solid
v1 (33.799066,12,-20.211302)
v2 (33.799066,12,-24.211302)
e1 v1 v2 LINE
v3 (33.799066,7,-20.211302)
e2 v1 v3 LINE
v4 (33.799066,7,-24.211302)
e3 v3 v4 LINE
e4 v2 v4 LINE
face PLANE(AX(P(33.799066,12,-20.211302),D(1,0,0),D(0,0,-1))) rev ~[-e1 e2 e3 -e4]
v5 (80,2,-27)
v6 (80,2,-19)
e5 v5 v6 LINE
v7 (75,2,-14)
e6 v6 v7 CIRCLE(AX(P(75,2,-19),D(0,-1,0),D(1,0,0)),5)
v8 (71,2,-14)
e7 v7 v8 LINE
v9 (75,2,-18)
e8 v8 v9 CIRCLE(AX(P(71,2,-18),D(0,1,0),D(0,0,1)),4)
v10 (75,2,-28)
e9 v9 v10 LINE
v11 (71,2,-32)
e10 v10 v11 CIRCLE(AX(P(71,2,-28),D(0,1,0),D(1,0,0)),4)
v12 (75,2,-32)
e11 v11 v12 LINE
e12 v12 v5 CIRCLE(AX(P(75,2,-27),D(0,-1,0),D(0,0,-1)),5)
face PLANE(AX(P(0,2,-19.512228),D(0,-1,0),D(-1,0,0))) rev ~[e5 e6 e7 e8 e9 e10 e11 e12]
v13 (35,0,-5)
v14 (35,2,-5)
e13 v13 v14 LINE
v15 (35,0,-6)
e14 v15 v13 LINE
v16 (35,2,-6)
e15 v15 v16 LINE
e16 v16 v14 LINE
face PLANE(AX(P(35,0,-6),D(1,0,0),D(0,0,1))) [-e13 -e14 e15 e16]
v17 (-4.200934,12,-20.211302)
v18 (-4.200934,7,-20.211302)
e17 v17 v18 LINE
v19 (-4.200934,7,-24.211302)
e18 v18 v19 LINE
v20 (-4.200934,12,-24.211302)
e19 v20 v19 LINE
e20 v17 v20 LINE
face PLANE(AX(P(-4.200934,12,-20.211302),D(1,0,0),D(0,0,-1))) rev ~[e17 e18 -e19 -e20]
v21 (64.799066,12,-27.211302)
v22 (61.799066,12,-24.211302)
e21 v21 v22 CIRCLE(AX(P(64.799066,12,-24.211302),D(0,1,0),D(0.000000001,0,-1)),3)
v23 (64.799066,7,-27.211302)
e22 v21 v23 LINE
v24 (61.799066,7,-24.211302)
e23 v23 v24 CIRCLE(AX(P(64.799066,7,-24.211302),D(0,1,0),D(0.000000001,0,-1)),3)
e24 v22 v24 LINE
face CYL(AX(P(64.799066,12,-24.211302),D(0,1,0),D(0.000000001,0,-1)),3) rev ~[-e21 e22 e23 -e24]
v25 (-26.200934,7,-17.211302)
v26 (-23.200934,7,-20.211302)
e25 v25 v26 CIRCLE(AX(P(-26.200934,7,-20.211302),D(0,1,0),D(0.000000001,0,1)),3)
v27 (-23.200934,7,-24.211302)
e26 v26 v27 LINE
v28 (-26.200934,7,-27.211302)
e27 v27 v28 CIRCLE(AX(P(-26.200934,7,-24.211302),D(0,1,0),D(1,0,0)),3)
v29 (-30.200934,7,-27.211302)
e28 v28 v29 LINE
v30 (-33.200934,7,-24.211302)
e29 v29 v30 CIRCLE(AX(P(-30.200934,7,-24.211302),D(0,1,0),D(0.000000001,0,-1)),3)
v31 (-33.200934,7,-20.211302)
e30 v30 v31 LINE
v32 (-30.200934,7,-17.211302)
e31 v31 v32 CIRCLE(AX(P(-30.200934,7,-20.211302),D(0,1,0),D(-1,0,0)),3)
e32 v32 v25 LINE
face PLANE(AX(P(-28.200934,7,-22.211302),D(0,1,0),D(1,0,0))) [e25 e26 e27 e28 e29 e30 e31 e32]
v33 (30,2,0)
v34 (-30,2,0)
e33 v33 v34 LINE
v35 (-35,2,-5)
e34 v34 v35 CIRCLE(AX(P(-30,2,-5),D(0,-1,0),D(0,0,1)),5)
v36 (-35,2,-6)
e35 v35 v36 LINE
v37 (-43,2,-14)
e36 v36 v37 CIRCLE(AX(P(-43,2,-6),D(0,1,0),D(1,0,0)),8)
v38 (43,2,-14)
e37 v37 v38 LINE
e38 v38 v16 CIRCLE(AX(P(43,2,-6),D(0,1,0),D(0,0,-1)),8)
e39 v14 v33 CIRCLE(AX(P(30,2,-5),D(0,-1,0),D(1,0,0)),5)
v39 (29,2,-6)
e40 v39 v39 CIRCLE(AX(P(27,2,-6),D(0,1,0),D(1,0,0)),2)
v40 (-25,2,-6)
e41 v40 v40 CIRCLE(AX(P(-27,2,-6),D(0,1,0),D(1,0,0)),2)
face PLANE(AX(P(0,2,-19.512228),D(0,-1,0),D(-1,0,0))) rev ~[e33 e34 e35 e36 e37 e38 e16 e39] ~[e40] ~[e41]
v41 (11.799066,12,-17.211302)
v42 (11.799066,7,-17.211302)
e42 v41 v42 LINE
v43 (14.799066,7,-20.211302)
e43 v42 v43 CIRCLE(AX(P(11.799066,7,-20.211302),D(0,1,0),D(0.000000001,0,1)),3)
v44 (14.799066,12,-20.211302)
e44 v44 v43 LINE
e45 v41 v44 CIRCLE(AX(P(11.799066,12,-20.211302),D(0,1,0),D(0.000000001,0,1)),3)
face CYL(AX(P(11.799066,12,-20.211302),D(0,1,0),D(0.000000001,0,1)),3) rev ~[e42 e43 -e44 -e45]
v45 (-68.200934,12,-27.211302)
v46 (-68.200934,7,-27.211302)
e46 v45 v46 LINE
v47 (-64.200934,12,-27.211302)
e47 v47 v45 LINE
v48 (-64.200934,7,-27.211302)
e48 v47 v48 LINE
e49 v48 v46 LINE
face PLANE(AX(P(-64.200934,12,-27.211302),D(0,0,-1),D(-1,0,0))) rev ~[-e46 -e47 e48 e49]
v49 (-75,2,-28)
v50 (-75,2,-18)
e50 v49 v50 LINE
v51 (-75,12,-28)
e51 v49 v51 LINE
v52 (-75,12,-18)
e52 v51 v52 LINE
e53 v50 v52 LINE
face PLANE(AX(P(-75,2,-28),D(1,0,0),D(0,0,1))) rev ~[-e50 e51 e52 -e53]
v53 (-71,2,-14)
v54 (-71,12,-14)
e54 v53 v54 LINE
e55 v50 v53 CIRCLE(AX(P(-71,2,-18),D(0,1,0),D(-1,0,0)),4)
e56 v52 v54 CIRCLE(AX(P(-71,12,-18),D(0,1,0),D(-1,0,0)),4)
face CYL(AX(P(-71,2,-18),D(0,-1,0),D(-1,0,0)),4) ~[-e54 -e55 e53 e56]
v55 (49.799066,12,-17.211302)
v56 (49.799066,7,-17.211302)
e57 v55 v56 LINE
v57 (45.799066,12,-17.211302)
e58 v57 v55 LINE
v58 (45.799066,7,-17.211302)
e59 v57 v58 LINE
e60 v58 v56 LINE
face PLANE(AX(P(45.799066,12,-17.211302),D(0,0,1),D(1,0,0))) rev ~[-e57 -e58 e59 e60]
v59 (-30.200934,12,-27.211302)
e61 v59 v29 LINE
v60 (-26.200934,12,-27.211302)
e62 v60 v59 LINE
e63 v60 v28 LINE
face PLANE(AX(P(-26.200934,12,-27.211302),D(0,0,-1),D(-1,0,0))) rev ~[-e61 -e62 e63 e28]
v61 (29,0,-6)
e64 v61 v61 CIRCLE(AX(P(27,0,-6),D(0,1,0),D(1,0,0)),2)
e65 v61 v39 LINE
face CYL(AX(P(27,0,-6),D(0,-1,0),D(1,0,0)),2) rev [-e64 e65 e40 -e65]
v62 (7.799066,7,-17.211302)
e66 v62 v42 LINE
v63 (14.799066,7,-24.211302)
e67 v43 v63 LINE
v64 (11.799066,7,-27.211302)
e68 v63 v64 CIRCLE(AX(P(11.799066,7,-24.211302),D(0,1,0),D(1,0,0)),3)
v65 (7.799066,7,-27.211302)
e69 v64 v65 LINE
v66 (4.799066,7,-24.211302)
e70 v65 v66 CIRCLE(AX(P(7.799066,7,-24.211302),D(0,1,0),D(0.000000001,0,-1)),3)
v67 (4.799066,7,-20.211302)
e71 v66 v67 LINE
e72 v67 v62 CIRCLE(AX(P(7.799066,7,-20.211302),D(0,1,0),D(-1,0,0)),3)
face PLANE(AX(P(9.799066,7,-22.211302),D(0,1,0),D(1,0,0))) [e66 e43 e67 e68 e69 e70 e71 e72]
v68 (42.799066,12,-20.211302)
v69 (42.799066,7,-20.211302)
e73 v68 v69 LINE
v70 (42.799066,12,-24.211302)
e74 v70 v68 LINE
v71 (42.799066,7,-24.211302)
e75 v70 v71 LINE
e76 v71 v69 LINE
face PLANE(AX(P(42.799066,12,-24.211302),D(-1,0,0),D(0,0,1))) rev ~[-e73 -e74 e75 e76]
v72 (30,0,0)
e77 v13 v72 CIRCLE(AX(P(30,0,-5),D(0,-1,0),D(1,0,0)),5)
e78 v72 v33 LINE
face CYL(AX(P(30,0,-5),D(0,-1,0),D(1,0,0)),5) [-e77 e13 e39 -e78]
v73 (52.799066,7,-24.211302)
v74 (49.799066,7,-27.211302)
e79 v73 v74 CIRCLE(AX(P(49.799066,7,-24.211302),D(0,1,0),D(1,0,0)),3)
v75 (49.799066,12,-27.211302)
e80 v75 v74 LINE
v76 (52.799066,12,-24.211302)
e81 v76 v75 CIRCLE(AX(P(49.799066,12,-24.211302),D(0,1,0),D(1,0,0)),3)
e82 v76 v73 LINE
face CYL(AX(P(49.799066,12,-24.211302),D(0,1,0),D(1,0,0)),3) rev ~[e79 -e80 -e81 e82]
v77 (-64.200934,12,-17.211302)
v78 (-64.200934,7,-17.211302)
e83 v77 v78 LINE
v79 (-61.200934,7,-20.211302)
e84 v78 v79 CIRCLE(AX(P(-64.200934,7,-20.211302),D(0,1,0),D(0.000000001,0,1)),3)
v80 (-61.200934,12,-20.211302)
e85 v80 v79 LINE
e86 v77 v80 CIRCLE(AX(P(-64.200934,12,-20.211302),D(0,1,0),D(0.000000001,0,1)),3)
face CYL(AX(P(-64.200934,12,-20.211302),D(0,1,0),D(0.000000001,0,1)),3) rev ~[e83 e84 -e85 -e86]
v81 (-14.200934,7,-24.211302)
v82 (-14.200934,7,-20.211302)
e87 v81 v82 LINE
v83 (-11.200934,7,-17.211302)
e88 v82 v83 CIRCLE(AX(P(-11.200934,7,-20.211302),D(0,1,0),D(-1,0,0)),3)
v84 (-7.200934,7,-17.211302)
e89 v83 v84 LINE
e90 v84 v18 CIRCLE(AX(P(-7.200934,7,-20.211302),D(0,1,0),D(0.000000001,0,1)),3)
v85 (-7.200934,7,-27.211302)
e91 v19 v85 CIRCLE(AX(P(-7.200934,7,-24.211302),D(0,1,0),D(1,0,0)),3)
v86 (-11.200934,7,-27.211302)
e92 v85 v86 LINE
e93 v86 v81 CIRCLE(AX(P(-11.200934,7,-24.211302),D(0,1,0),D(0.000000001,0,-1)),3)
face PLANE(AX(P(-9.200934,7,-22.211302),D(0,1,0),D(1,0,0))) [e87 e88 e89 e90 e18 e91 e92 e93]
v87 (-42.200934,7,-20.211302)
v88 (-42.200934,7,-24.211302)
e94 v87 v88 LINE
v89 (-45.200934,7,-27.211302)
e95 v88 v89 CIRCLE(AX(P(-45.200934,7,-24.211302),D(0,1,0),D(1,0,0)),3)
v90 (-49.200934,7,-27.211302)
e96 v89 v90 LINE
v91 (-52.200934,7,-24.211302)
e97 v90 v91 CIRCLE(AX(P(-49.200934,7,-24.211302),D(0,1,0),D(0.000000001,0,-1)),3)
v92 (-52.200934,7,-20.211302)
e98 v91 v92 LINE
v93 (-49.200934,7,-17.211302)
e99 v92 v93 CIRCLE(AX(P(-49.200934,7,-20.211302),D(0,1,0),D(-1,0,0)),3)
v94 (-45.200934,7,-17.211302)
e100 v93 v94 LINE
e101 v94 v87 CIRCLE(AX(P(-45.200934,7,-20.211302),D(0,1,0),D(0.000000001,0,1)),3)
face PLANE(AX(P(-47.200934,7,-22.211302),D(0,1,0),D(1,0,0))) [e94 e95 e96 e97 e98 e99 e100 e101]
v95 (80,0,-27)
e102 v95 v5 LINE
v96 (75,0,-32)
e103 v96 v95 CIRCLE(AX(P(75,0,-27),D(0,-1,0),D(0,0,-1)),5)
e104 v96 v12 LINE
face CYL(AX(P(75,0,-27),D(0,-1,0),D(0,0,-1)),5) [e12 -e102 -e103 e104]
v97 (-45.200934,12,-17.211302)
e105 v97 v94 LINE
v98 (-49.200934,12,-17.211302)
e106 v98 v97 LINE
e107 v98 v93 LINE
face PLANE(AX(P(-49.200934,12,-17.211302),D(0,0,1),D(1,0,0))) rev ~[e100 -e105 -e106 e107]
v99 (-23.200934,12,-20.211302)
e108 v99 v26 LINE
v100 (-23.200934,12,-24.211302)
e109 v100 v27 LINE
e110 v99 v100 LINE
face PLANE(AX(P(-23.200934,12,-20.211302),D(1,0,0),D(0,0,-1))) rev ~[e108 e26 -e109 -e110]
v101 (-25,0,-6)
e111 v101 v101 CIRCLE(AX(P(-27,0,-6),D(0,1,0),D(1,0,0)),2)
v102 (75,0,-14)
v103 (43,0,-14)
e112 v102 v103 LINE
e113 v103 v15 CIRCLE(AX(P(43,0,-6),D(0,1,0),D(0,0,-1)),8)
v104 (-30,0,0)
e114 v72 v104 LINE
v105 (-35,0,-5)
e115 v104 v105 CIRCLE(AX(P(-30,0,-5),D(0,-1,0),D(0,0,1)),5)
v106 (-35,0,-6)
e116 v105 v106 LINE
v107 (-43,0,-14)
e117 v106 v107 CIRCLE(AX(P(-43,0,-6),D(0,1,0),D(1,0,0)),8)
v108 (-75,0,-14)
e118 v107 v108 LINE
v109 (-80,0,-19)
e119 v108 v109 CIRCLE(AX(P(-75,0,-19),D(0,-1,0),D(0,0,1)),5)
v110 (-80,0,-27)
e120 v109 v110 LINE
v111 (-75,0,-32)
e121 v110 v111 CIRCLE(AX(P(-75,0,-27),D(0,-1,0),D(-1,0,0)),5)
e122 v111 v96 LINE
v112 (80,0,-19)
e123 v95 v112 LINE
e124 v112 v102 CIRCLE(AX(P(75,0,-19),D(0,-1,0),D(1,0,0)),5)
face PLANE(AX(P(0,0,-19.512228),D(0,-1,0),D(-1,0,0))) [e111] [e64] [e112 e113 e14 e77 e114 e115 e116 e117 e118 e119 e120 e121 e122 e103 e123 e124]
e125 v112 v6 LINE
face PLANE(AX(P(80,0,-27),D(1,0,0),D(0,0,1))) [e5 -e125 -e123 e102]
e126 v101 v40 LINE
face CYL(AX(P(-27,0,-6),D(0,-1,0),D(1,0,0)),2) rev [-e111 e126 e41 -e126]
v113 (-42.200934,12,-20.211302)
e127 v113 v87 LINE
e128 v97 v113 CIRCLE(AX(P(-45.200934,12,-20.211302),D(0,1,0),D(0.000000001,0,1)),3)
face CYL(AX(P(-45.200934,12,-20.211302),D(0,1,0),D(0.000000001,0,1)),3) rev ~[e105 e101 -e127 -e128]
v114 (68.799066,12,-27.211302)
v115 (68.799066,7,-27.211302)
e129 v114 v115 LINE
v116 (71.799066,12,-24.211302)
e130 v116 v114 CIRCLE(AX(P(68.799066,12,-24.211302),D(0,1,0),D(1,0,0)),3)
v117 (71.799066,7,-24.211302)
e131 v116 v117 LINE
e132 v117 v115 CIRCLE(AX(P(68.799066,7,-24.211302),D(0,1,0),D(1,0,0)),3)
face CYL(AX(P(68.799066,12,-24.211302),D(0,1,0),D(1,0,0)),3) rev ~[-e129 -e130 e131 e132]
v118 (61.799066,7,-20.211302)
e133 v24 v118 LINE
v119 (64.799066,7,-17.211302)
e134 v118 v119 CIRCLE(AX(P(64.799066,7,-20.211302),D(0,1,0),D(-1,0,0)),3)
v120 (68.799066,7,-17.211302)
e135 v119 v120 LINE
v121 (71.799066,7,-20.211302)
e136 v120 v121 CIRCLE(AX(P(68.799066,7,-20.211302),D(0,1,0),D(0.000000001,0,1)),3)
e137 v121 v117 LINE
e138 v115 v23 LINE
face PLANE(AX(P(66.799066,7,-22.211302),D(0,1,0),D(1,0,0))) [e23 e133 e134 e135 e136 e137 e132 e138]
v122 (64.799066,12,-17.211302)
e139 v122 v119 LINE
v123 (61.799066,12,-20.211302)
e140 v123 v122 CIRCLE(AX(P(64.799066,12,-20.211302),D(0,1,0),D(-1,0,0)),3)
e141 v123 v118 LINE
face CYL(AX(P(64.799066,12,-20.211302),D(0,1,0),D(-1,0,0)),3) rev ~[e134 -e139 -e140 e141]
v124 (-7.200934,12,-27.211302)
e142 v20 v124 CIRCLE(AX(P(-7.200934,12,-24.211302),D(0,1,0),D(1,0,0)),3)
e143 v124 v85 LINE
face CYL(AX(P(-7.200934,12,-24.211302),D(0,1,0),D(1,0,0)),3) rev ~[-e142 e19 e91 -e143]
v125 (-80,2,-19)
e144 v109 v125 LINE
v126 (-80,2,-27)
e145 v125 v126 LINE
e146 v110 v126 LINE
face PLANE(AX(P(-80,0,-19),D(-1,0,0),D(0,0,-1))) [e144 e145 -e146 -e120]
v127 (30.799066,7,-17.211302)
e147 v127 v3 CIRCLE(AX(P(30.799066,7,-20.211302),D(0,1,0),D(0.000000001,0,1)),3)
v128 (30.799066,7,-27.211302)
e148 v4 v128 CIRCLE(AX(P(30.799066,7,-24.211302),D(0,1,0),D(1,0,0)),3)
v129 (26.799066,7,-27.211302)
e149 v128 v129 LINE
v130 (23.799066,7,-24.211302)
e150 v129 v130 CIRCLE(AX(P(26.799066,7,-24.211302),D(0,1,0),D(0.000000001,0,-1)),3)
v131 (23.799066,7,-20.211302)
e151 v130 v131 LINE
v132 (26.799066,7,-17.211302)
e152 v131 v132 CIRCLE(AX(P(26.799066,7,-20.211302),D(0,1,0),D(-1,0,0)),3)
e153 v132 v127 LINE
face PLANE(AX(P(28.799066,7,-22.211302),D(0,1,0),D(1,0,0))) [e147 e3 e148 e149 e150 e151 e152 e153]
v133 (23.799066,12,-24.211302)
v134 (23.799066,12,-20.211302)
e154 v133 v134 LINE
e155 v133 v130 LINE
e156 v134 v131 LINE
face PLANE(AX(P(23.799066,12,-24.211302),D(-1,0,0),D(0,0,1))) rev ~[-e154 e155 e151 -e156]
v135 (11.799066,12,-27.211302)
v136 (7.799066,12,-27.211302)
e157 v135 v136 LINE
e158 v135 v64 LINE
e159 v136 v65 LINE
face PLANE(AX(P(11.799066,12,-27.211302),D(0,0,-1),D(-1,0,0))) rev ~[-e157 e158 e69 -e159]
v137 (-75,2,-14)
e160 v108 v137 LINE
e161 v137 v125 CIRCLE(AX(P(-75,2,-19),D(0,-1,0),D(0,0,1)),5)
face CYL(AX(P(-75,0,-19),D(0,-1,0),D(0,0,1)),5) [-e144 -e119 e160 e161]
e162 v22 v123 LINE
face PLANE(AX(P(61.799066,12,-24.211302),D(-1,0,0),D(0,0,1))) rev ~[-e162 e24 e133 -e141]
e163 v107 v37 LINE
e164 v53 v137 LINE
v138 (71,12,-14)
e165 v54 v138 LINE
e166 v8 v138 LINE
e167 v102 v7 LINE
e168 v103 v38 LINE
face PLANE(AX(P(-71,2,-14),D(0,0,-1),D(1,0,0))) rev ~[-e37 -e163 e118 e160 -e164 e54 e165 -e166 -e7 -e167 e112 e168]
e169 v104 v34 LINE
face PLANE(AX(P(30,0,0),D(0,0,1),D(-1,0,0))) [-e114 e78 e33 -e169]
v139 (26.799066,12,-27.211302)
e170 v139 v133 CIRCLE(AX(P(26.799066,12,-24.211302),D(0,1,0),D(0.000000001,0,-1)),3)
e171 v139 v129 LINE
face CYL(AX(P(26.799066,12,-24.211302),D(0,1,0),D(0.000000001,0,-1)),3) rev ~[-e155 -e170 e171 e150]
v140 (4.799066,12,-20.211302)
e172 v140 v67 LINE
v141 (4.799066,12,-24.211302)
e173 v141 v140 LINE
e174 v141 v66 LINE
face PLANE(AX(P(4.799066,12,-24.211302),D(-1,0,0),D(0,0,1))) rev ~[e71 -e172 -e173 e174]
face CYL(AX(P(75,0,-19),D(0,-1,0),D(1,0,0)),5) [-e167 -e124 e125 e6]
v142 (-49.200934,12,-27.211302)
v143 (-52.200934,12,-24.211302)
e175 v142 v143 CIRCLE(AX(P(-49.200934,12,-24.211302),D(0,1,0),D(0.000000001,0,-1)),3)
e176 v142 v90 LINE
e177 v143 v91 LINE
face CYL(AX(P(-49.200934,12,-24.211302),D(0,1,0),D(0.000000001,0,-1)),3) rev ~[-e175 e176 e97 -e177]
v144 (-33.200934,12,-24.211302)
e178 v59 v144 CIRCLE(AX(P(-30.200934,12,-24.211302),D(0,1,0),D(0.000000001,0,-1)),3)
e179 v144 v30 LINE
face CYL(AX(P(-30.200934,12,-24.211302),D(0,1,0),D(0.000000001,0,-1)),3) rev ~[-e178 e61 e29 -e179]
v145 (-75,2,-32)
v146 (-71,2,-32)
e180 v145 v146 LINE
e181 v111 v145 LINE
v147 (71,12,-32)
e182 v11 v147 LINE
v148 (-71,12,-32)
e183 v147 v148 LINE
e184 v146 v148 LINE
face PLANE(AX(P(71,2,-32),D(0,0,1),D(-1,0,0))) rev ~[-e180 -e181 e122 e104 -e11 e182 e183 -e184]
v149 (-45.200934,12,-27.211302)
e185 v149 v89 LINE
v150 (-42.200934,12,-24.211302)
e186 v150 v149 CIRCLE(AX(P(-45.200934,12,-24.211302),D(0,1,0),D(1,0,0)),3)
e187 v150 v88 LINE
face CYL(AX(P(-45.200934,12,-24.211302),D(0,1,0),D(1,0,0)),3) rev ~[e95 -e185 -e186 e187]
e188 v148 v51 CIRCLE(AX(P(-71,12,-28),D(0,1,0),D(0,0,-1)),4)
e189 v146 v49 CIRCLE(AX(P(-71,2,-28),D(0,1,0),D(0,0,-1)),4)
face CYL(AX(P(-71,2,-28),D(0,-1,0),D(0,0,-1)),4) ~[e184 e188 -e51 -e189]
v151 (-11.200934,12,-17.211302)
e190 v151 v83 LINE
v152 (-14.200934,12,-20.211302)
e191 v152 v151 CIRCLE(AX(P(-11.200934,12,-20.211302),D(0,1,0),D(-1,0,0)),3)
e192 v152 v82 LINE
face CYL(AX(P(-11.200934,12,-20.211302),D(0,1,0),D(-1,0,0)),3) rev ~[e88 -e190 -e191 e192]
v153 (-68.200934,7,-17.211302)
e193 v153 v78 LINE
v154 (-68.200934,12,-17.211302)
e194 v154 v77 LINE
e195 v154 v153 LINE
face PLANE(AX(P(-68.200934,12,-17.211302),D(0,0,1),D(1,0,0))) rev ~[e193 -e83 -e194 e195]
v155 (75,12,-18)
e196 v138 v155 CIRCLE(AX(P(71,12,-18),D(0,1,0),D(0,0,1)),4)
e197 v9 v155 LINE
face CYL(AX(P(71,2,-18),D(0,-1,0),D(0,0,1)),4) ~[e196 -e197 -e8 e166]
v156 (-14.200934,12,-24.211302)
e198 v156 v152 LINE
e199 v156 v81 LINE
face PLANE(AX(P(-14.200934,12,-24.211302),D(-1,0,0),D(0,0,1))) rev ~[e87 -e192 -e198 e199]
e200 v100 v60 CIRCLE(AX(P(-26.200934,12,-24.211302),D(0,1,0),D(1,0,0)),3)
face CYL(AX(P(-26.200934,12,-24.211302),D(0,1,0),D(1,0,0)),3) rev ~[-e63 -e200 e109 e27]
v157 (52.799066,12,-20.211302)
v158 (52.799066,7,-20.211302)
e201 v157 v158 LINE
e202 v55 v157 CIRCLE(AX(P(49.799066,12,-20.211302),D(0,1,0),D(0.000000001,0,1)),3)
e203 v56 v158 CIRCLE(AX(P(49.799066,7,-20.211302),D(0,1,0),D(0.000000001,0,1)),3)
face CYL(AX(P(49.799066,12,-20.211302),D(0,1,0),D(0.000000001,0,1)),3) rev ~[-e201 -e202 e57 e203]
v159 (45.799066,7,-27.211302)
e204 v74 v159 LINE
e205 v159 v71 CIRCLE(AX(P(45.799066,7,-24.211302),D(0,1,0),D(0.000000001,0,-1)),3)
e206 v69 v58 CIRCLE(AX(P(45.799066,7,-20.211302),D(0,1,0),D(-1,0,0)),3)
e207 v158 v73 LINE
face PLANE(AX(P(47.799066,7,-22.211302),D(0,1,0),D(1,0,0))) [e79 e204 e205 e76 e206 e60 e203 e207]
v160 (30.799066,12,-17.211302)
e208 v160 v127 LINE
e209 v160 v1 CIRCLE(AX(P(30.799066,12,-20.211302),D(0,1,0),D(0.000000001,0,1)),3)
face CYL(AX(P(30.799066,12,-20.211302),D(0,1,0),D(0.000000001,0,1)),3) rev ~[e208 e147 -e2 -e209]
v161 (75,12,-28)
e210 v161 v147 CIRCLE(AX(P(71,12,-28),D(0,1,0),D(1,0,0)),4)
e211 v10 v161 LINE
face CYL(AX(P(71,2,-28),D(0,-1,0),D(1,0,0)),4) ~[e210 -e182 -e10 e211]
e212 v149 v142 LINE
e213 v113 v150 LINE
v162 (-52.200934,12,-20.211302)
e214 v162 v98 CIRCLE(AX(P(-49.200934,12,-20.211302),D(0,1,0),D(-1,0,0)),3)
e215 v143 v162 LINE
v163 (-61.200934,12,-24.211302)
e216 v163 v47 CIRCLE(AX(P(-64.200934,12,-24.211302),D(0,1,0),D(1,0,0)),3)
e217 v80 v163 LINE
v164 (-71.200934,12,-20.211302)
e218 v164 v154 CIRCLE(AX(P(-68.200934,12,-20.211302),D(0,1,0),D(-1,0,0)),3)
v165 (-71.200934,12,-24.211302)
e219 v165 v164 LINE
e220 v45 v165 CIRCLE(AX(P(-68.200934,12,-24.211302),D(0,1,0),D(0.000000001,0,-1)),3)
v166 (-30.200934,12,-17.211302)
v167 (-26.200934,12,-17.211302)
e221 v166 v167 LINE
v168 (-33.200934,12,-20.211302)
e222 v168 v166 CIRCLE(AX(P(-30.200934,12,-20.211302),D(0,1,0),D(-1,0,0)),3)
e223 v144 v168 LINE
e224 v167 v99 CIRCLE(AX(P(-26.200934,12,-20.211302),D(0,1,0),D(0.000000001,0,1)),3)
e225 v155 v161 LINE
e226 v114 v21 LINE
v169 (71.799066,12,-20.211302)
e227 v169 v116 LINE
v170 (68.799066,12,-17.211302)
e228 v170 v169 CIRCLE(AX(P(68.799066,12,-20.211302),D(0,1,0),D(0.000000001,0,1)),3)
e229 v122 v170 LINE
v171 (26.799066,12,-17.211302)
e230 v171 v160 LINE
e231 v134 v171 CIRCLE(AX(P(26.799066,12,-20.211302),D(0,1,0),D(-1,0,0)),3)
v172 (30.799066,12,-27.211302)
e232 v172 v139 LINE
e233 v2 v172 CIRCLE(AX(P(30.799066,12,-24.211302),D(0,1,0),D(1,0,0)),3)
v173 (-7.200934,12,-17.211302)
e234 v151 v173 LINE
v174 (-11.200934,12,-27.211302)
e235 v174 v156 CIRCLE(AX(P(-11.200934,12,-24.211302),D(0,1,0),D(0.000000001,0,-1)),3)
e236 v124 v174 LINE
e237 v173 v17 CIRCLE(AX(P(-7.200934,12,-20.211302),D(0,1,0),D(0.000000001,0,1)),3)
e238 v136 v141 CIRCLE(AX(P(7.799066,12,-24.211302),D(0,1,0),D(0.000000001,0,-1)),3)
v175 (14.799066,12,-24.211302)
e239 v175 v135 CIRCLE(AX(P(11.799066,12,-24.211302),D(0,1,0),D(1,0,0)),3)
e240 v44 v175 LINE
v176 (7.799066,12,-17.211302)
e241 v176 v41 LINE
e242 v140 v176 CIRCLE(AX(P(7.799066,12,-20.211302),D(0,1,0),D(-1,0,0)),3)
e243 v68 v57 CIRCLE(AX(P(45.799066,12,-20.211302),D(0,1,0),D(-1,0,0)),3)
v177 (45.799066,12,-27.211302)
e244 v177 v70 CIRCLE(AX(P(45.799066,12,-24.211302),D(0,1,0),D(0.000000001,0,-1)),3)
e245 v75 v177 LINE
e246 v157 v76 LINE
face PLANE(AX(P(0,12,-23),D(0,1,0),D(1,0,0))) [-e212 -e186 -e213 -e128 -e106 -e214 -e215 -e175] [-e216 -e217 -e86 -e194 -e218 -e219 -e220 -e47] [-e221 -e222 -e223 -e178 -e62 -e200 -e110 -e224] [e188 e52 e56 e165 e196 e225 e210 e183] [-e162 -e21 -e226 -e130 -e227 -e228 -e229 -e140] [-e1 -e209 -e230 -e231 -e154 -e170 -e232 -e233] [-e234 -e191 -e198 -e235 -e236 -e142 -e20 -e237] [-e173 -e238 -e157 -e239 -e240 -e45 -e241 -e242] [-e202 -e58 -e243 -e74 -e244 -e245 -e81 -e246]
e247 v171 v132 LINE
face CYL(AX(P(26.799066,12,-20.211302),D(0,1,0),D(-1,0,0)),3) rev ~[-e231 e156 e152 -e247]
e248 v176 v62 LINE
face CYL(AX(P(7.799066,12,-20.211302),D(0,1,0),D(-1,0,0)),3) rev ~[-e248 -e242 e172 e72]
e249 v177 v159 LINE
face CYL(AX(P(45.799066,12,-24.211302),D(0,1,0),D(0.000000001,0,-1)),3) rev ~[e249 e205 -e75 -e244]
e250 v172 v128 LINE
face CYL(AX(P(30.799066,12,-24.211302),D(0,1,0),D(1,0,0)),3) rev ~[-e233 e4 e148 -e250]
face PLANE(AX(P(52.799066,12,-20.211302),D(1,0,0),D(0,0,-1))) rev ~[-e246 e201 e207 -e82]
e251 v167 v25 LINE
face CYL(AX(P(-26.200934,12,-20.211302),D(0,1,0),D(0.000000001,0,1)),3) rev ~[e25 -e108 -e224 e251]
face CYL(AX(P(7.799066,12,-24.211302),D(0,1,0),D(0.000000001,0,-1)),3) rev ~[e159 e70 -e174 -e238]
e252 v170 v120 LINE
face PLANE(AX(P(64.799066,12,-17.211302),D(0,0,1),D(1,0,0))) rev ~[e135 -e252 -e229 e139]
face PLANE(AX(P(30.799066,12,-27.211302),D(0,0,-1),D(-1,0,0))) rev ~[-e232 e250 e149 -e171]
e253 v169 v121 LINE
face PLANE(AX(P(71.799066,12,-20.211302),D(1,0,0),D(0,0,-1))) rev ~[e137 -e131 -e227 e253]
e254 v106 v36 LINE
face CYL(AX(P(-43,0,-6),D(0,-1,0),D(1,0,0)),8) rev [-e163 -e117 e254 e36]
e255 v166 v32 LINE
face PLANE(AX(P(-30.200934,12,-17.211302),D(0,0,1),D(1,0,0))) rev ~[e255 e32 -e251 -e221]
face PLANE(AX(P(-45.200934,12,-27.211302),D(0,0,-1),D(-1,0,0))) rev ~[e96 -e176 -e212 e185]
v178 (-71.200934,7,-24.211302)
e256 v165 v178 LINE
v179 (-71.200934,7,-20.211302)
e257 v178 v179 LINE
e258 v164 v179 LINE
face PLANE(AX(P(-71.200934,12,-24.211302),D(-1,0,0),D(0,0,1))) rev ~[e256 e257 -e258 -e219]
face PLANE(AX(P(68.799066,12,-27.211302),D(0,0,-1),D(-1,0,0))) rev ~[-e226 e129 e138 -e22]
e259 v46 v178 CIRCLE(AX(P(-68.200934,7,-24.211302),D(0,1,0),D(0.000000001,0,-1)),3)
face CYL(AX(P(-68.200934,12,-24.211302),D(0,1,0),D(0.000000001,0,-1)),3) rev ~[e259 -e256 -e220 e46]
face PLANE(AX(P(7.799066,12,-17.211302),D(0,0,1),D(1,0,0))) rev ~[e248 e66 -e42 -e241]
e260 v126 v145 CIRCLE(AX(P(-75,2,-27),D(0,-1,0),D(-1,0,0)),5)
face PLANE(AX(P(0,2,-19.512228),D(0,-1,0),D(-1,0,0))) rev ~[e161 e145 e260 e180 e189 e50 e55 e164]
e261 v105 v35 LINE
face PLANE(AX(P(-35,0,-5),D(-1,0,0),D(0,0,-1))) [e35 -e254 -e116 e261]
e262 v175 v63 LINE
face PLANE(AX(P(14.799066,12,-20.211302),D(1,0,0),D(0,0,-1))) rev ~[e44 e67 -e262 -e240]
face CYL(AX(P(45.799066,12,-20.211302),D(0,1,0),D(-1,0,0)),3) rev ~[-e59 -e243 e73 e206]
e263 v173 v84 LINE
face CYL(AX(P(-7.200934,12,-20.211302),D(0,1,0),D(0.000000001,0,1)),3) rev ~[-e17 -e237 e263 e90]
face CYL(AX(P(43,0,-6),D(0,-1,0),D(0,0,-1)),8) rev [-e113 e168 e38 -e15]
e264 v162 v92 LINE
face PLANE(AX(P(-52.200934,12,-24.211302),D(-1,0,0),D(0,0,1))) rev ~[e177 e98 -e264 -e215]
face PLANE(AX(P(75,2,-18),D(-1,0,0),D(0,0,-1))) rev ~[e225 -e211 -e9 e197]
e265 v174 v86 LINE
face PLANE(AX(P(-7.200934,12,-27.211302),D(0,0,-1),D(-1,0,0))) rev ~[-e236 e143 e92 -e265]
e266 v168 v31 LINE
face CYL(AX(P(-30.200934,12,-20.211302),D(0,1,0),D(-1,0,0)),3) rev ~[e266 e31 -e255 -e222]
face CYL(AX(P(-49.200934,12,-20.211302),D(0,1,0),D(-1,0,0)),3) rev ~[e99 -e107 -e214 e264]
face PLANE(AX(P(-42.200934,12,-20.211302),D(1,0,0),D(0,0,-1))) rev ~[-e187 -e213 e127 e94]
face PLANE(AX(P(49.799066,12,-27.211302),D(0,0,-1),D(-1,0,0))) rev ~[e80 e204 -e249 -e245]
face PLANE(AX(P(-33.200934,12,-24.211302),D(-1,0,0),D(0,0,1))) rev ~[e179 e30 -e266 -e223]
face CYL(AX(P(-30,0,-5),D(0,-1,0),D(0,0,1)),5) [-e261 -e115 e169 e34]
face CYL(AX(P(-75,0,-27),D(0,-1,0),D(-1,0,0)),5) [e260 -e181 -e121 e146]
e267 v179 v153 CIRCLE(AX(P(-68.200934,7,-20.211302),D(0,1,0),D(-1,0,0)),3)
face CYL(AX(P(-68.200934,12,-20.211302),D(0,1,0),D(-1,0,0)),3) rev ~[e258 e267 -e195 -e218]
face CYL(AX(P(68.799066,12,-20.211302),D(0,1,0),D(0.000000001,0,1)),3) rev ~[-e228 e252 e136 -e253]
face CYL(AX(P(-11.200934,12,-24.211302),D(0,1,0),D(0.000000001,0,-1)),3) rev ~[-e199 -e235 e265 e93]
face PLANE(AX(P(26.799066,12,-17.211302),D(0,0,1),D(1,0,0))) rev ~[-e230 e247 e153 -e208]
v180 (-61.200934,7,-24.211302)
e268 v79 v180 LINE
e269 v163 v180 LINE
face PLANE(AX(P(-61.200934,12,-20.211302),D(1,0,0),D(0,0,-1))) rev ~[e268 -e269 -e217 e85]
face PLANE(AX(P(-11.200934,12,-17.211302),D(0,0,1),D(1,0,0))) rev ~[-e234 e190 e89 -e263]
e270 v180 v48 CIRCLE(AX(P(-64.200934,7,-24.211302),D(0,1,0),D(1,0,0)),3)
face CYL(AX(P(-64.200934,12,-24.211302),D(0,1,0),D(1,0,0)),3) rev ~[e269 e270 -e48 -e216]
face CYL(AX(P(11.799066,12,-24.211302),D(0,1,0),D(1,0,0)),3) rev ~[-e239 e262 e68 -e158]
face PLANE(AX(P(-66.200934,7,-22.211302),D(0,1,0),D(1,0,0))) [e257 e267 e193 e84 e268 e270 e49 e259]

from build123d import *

# Parameters (mm, degrees)
SKETCH_1_R          = 2
EXTRUDE_1_DEPTH     = 2
EXTRUDE_2_DEPTH     = 10
CUT_EXTRUDE_1_DEPTH = 5


with BuildPart() as part:
    # 草图1 → 凸台-拉伸1 (new body)
    with BuildSketch(Plane(origin=(0, 0, 0), x_dir=(1, 0, 0), z_dir=(0, 1, 0))):
        with BuildLine():
            Line((-75, 32), (75, 32))
            ThreePointArc((75, 32), (78.535533906, 30.535533906), (80, 27))
            Line((80, 27), (80, 19))
            ThreePointArc((80, 19), (78.535533906, 15.464466094), (75, 14))
            Line((75, 14), (43, 14))
            ThreePointArc((43, 14), (37.343145751, 11.656854249), (35, 6))
            Line((35, 6), (35, 5))
            ThreePointArc((35, 5), (33.535533906, 1.464466094), (30, 0))
            Line((30, 0), (-30, 0))
            ThreePointArc((-30, 0), (-33.535533906, 1.464466094), (-35, 5))
            Line((-35, 5), (-35, 6))
            ThreePointArc((-35, 6), (-37.343145751, 11.656854249), (-43, 14))
            Line((-43, 14), (-75, 14))
            ThreePointArc((-75, 14), (-78.535533906, 15.464466094), (-80, 19))
            Line((-80, 19), (-80, 27))
            ThreePointArc((-80, 27), (-78.535533906, 30.535533906), (-75, 32))
        make_face()
        with Locations((-27, 6)):
            Circle(SKETCH_1_R, mode=Mode.SUBTRACT)
        with Locations((27, 6)):
            Circle(SKETCH_1_R, mode=Mode.SUBTRACT)
    extrude(amount=EXTRUDE_1_DEPTH)

    # 草图2 → 凸台-拉伸2 (add)
    with BuildSketch(Plane(origin=(0, 2, 0), x_dir=(1, 0, 0), z_dir=(0, 1, 0))):
        with BuildLine():
            Line((-71, 14), (71, 14))
            ThreePointArc((71, 14), (73.828427125, 15.171572875), (75, 18))
            Line((75, 18), (75, 28))
            ThreePointArc((75, 28), (73.828427125, 30.828427125), (71, 32))
            Line((71, 32), (-71, 32))
            ThreePointArc((-71, 32), (-73.828427125, 30.828427125), (-75, 28))
            Line((-75, 28), (-75, 18))
            ThreePointArc((-75, 18), (-73.828427125, 15.171572875), (-71, 14))
        make_face()
    extrude(amount=EXTRUDE_2_DEPTH)

    # 草图3 → 切除-拉伸1 (cut)
    with BuildSketch(Plane(origin=(0, 12, 0), x_dir=(1, 0, 0), z_dir=(0, 1, 0))):
        with BuildLine():
            Line((-49.200934141, 17.21130212), (-45.200934141, 17.21130212))
            ThreePointArc((-45.200934141, 17.21130212), (-43.079613798, 18.089981777), (-42.200934141, 20.21130212))
            Line((-42.200934141, 20.21130212), (-42.200934141, 24.21130212))
            ThreePointArc((-42.200934141, 24.21130212), (-43.079613798, 26.332622464), (-45.200934141, 27.21130212))
            Line((-45.200934141, 27.21130212), (-49.200934141, 27.21130212))
            ThreePointArc((-49.200934141, 27.21130212), (-51.322254485, 26.332622464), (-52.200934141, 24.21130212))
            Line((-52.200934141, 24.21130212), (-52.200934141, 20.21130212))
            ThreePointArc((-52.200934141, 20.21130212), (-51.322254485, 18.089981777), (-49.200934141, 17.21130212))
        make_face()
        with BuildLine():
            Line((-68.200934141, 17.21130212), (-64.200934141, 17.21130212))
            ThreePointArc((-64.200934141, 17.21130212), (-62.079613798, 18.089981777), (-61.200934141, 20.21130212))
            Line((-61.200934141, 20.21130212), (-61.200934141, 24.21130212))
            ThreePointArc((-61.200934141, 24.21130212), (-62.079613798, 26.332622464), (-64.200934141, 27.21130212))
            Line((-64.200934141, 27.21130212), (-68.200934141, 27.21130212))
            ThreePointArc((-68.200934141, 27.21130212), (-70.322254485, 26.332622464), (-71.200934141, 24.21130212))
            Line((-71.200934141, 24.21130212), (-71.200934141, 20.21130212))
            ThreePointArc((-71.200934141, 20.21130212), (-70.322254485, 18.089981777), (-68.200934141, 17.21130212))
        make_face()
        with BuildLine():
            Line((-30.200934141, 17.21130212), (-26.200934141, 17.21130212))
            ThreePointArc((-26.200934141, 17.21130212), (-24.079613798, 18.089981777), (-23.200934141, 20.21130212))
            Line((-23.200934141, 20.21130212), (-23.200934141, 24.21130212))
            ThreePointArc((-23.200934141, 24.21130212), (-24.079613798, 26.332622464), (-26.200934141, 27.21130212))
            Line((-26.200934141, 27.21130212), (-30.200934141, 27.21130212))
            ThreePointArc((-30.200934141, 27.21130212), (-32.322254485, 26.332622464), (-33.200934141, 24.21130212))
            Line((-33.200934141, 24.21130212), (-33.200934141, 20.21130212))
            ThreePointArc((-33.200934141, 20.21130212), (-32.322254485, 18.089981777), (-30.200934141, 17.21130212))
        make_face()
        with BuildLine():
            Line((-11.200934141, 17.21130212), (-7.200934141, 17.21130212))
            ThreePointArc((-7.200934141, 17.21130212), (-5.079613798, 18.089981777), (-4.200934141, 20.21130212))
            Line((-4.200934141, 20.21130212), (-4.200934141, 24.21130212))
            ThreePointArc((-4.200934141, 24.21130212), (-5.079613798, 26.332622464), (-7.200934141, 27.21130212))
            Line((-7.200934141, 27.21130212), (-11.200934141, 27.21130212))
            ThreePointArc((-11.200934141, 27.21130212), (-13.322254485, 26.332622464), (-14.200934141, 24.21130212))
            Line((-14.200934141, 24.21130212), (-14.200934141, 20.21130212))
            ThreePointArc((-14.200934141, 20.21130212), (-13.322254485, 18.089981777), (-11.200934141, 17.21130212))
        make_face()
        with BuildLine():
            Line((7.799065859, 17.21130212), (11.799065859, 17.21130212))
            ThreePointArc((11.799065859, 17.21130212), (13.920386202, 18.089981777), (14.799065859, 20.21130212))
            Line((14.799065859, 20.21130212), (14.799065859, 24.21130212))
            ThreePointArc((14.799065859, 24.21130212), (13.920386202, 26.332622464), (11.799065859, 27.21130212))
            Line((11.799065859, 27.21130212), (7.799065859, 27.21130212))
            ThreePointArc((7.799065859, 27.21130212), (5.677745515, 26.332622464), (4.799065859, 24.21130212))
            Line((4.799065859, 24.21130212), (4.799065859, 20.21130212))
            ThreePointArc((4.799065859, 20.21130212), (5.677745515, 18.089981777), (7.799065859, 17.21130212))
        make_face()
        with BuildLine():
            Line((26.799065859, 17.21130212), (30.799065859, 17.21130212))
            ThreePointArc((30.799065859, 17.21130212), (32.920386202, 18.089981777), (33.799065859, 20.21130212))
            Line((33.799065859, 20.21130212), (33.799065859, 24.21130212))
            ThreePointArc((33.799065859, 24.21130212), (32.920386202, 26.332622464), (30.799065859, 27.21130212))
            Line((30.799065859, 27.21130212), (26.799065859, 27.21130212))
            ThreePointArc((26.799065859, 27.21130212), (24.677745515, 26.332622464), (23.799065859, 24.21130212))
            Line((23.799065859, 24.21130212), (23.799065859, 20.21130212))
            ThreePointArc((23.799065859, 20.21130212), (24.677745515, 18.089981777), (26.799065859, 17.21130212))
        make_face()
        with BuildLine():
            Line((45.799065859, 17.21130212), (49.799065859, 17.21130212))
            ThreePointArc((49.799065859, 17.21130212), (51.920386202, 18.089981777), (52.799065859, 20.21130212))
            Line((52.799065859, 20.21130212), (52.799065859, 24.21130212))
            ThreePointArc((52.799065859, 24.21130212), (51.920386202, 26.332622464), (49.799065859, 27.21130212))
            Line((49.799065859, 27.21130212), (45.799065859, 27.21130212))
            ThreePointArc((45.799065859, 27.21130212), (43.677745515, 26.332622464), (42.799065859, 24.21130212))
            Line((42.799065859, 24.21130212), (42.799065859, 20.21130212))
            ThreePointArc((42.799065859, 20.21130212), (43.677745515, 18.089981777), (45.799065859, 17.21130212))
        make_face()
        with BuildLine():
            Line((64.799065859, 17.21130212), (68.799065859, 17.21130212))
            ThreePointArc((68.799065859, 17.21130212), (70.920386202, 18.089981777), (71.799065859, 20.21130212))
            Line((71.799065859, 20.21130212), (71.799065859, 24.21130212))
            ThreePointArc((71.799065859, 24.21130212), (70.920386202, 26.332622464), (68.799065859, 27.21130212))
            Line((68.799065859, 27.21130212), (64.799065859, 27.21130212))
            ThreePointArc((64.799065859, 27.21130212), (62.677745515, 26.332622464), (61.799065859, 24.21130212))
            Line((61.799065859, 24.21130212), (61.799065859, 20.21130212))
            ThreePointArc((61.799065859, 20.21130212), (62.677745515, 18.089981777), (64.799065859, 17.21130212))
        make_face()
    extrude(amount=-CUT_EXTRUDE_1_DEPTH, mode=Mode.SUBTRACT)


solid = part.part
